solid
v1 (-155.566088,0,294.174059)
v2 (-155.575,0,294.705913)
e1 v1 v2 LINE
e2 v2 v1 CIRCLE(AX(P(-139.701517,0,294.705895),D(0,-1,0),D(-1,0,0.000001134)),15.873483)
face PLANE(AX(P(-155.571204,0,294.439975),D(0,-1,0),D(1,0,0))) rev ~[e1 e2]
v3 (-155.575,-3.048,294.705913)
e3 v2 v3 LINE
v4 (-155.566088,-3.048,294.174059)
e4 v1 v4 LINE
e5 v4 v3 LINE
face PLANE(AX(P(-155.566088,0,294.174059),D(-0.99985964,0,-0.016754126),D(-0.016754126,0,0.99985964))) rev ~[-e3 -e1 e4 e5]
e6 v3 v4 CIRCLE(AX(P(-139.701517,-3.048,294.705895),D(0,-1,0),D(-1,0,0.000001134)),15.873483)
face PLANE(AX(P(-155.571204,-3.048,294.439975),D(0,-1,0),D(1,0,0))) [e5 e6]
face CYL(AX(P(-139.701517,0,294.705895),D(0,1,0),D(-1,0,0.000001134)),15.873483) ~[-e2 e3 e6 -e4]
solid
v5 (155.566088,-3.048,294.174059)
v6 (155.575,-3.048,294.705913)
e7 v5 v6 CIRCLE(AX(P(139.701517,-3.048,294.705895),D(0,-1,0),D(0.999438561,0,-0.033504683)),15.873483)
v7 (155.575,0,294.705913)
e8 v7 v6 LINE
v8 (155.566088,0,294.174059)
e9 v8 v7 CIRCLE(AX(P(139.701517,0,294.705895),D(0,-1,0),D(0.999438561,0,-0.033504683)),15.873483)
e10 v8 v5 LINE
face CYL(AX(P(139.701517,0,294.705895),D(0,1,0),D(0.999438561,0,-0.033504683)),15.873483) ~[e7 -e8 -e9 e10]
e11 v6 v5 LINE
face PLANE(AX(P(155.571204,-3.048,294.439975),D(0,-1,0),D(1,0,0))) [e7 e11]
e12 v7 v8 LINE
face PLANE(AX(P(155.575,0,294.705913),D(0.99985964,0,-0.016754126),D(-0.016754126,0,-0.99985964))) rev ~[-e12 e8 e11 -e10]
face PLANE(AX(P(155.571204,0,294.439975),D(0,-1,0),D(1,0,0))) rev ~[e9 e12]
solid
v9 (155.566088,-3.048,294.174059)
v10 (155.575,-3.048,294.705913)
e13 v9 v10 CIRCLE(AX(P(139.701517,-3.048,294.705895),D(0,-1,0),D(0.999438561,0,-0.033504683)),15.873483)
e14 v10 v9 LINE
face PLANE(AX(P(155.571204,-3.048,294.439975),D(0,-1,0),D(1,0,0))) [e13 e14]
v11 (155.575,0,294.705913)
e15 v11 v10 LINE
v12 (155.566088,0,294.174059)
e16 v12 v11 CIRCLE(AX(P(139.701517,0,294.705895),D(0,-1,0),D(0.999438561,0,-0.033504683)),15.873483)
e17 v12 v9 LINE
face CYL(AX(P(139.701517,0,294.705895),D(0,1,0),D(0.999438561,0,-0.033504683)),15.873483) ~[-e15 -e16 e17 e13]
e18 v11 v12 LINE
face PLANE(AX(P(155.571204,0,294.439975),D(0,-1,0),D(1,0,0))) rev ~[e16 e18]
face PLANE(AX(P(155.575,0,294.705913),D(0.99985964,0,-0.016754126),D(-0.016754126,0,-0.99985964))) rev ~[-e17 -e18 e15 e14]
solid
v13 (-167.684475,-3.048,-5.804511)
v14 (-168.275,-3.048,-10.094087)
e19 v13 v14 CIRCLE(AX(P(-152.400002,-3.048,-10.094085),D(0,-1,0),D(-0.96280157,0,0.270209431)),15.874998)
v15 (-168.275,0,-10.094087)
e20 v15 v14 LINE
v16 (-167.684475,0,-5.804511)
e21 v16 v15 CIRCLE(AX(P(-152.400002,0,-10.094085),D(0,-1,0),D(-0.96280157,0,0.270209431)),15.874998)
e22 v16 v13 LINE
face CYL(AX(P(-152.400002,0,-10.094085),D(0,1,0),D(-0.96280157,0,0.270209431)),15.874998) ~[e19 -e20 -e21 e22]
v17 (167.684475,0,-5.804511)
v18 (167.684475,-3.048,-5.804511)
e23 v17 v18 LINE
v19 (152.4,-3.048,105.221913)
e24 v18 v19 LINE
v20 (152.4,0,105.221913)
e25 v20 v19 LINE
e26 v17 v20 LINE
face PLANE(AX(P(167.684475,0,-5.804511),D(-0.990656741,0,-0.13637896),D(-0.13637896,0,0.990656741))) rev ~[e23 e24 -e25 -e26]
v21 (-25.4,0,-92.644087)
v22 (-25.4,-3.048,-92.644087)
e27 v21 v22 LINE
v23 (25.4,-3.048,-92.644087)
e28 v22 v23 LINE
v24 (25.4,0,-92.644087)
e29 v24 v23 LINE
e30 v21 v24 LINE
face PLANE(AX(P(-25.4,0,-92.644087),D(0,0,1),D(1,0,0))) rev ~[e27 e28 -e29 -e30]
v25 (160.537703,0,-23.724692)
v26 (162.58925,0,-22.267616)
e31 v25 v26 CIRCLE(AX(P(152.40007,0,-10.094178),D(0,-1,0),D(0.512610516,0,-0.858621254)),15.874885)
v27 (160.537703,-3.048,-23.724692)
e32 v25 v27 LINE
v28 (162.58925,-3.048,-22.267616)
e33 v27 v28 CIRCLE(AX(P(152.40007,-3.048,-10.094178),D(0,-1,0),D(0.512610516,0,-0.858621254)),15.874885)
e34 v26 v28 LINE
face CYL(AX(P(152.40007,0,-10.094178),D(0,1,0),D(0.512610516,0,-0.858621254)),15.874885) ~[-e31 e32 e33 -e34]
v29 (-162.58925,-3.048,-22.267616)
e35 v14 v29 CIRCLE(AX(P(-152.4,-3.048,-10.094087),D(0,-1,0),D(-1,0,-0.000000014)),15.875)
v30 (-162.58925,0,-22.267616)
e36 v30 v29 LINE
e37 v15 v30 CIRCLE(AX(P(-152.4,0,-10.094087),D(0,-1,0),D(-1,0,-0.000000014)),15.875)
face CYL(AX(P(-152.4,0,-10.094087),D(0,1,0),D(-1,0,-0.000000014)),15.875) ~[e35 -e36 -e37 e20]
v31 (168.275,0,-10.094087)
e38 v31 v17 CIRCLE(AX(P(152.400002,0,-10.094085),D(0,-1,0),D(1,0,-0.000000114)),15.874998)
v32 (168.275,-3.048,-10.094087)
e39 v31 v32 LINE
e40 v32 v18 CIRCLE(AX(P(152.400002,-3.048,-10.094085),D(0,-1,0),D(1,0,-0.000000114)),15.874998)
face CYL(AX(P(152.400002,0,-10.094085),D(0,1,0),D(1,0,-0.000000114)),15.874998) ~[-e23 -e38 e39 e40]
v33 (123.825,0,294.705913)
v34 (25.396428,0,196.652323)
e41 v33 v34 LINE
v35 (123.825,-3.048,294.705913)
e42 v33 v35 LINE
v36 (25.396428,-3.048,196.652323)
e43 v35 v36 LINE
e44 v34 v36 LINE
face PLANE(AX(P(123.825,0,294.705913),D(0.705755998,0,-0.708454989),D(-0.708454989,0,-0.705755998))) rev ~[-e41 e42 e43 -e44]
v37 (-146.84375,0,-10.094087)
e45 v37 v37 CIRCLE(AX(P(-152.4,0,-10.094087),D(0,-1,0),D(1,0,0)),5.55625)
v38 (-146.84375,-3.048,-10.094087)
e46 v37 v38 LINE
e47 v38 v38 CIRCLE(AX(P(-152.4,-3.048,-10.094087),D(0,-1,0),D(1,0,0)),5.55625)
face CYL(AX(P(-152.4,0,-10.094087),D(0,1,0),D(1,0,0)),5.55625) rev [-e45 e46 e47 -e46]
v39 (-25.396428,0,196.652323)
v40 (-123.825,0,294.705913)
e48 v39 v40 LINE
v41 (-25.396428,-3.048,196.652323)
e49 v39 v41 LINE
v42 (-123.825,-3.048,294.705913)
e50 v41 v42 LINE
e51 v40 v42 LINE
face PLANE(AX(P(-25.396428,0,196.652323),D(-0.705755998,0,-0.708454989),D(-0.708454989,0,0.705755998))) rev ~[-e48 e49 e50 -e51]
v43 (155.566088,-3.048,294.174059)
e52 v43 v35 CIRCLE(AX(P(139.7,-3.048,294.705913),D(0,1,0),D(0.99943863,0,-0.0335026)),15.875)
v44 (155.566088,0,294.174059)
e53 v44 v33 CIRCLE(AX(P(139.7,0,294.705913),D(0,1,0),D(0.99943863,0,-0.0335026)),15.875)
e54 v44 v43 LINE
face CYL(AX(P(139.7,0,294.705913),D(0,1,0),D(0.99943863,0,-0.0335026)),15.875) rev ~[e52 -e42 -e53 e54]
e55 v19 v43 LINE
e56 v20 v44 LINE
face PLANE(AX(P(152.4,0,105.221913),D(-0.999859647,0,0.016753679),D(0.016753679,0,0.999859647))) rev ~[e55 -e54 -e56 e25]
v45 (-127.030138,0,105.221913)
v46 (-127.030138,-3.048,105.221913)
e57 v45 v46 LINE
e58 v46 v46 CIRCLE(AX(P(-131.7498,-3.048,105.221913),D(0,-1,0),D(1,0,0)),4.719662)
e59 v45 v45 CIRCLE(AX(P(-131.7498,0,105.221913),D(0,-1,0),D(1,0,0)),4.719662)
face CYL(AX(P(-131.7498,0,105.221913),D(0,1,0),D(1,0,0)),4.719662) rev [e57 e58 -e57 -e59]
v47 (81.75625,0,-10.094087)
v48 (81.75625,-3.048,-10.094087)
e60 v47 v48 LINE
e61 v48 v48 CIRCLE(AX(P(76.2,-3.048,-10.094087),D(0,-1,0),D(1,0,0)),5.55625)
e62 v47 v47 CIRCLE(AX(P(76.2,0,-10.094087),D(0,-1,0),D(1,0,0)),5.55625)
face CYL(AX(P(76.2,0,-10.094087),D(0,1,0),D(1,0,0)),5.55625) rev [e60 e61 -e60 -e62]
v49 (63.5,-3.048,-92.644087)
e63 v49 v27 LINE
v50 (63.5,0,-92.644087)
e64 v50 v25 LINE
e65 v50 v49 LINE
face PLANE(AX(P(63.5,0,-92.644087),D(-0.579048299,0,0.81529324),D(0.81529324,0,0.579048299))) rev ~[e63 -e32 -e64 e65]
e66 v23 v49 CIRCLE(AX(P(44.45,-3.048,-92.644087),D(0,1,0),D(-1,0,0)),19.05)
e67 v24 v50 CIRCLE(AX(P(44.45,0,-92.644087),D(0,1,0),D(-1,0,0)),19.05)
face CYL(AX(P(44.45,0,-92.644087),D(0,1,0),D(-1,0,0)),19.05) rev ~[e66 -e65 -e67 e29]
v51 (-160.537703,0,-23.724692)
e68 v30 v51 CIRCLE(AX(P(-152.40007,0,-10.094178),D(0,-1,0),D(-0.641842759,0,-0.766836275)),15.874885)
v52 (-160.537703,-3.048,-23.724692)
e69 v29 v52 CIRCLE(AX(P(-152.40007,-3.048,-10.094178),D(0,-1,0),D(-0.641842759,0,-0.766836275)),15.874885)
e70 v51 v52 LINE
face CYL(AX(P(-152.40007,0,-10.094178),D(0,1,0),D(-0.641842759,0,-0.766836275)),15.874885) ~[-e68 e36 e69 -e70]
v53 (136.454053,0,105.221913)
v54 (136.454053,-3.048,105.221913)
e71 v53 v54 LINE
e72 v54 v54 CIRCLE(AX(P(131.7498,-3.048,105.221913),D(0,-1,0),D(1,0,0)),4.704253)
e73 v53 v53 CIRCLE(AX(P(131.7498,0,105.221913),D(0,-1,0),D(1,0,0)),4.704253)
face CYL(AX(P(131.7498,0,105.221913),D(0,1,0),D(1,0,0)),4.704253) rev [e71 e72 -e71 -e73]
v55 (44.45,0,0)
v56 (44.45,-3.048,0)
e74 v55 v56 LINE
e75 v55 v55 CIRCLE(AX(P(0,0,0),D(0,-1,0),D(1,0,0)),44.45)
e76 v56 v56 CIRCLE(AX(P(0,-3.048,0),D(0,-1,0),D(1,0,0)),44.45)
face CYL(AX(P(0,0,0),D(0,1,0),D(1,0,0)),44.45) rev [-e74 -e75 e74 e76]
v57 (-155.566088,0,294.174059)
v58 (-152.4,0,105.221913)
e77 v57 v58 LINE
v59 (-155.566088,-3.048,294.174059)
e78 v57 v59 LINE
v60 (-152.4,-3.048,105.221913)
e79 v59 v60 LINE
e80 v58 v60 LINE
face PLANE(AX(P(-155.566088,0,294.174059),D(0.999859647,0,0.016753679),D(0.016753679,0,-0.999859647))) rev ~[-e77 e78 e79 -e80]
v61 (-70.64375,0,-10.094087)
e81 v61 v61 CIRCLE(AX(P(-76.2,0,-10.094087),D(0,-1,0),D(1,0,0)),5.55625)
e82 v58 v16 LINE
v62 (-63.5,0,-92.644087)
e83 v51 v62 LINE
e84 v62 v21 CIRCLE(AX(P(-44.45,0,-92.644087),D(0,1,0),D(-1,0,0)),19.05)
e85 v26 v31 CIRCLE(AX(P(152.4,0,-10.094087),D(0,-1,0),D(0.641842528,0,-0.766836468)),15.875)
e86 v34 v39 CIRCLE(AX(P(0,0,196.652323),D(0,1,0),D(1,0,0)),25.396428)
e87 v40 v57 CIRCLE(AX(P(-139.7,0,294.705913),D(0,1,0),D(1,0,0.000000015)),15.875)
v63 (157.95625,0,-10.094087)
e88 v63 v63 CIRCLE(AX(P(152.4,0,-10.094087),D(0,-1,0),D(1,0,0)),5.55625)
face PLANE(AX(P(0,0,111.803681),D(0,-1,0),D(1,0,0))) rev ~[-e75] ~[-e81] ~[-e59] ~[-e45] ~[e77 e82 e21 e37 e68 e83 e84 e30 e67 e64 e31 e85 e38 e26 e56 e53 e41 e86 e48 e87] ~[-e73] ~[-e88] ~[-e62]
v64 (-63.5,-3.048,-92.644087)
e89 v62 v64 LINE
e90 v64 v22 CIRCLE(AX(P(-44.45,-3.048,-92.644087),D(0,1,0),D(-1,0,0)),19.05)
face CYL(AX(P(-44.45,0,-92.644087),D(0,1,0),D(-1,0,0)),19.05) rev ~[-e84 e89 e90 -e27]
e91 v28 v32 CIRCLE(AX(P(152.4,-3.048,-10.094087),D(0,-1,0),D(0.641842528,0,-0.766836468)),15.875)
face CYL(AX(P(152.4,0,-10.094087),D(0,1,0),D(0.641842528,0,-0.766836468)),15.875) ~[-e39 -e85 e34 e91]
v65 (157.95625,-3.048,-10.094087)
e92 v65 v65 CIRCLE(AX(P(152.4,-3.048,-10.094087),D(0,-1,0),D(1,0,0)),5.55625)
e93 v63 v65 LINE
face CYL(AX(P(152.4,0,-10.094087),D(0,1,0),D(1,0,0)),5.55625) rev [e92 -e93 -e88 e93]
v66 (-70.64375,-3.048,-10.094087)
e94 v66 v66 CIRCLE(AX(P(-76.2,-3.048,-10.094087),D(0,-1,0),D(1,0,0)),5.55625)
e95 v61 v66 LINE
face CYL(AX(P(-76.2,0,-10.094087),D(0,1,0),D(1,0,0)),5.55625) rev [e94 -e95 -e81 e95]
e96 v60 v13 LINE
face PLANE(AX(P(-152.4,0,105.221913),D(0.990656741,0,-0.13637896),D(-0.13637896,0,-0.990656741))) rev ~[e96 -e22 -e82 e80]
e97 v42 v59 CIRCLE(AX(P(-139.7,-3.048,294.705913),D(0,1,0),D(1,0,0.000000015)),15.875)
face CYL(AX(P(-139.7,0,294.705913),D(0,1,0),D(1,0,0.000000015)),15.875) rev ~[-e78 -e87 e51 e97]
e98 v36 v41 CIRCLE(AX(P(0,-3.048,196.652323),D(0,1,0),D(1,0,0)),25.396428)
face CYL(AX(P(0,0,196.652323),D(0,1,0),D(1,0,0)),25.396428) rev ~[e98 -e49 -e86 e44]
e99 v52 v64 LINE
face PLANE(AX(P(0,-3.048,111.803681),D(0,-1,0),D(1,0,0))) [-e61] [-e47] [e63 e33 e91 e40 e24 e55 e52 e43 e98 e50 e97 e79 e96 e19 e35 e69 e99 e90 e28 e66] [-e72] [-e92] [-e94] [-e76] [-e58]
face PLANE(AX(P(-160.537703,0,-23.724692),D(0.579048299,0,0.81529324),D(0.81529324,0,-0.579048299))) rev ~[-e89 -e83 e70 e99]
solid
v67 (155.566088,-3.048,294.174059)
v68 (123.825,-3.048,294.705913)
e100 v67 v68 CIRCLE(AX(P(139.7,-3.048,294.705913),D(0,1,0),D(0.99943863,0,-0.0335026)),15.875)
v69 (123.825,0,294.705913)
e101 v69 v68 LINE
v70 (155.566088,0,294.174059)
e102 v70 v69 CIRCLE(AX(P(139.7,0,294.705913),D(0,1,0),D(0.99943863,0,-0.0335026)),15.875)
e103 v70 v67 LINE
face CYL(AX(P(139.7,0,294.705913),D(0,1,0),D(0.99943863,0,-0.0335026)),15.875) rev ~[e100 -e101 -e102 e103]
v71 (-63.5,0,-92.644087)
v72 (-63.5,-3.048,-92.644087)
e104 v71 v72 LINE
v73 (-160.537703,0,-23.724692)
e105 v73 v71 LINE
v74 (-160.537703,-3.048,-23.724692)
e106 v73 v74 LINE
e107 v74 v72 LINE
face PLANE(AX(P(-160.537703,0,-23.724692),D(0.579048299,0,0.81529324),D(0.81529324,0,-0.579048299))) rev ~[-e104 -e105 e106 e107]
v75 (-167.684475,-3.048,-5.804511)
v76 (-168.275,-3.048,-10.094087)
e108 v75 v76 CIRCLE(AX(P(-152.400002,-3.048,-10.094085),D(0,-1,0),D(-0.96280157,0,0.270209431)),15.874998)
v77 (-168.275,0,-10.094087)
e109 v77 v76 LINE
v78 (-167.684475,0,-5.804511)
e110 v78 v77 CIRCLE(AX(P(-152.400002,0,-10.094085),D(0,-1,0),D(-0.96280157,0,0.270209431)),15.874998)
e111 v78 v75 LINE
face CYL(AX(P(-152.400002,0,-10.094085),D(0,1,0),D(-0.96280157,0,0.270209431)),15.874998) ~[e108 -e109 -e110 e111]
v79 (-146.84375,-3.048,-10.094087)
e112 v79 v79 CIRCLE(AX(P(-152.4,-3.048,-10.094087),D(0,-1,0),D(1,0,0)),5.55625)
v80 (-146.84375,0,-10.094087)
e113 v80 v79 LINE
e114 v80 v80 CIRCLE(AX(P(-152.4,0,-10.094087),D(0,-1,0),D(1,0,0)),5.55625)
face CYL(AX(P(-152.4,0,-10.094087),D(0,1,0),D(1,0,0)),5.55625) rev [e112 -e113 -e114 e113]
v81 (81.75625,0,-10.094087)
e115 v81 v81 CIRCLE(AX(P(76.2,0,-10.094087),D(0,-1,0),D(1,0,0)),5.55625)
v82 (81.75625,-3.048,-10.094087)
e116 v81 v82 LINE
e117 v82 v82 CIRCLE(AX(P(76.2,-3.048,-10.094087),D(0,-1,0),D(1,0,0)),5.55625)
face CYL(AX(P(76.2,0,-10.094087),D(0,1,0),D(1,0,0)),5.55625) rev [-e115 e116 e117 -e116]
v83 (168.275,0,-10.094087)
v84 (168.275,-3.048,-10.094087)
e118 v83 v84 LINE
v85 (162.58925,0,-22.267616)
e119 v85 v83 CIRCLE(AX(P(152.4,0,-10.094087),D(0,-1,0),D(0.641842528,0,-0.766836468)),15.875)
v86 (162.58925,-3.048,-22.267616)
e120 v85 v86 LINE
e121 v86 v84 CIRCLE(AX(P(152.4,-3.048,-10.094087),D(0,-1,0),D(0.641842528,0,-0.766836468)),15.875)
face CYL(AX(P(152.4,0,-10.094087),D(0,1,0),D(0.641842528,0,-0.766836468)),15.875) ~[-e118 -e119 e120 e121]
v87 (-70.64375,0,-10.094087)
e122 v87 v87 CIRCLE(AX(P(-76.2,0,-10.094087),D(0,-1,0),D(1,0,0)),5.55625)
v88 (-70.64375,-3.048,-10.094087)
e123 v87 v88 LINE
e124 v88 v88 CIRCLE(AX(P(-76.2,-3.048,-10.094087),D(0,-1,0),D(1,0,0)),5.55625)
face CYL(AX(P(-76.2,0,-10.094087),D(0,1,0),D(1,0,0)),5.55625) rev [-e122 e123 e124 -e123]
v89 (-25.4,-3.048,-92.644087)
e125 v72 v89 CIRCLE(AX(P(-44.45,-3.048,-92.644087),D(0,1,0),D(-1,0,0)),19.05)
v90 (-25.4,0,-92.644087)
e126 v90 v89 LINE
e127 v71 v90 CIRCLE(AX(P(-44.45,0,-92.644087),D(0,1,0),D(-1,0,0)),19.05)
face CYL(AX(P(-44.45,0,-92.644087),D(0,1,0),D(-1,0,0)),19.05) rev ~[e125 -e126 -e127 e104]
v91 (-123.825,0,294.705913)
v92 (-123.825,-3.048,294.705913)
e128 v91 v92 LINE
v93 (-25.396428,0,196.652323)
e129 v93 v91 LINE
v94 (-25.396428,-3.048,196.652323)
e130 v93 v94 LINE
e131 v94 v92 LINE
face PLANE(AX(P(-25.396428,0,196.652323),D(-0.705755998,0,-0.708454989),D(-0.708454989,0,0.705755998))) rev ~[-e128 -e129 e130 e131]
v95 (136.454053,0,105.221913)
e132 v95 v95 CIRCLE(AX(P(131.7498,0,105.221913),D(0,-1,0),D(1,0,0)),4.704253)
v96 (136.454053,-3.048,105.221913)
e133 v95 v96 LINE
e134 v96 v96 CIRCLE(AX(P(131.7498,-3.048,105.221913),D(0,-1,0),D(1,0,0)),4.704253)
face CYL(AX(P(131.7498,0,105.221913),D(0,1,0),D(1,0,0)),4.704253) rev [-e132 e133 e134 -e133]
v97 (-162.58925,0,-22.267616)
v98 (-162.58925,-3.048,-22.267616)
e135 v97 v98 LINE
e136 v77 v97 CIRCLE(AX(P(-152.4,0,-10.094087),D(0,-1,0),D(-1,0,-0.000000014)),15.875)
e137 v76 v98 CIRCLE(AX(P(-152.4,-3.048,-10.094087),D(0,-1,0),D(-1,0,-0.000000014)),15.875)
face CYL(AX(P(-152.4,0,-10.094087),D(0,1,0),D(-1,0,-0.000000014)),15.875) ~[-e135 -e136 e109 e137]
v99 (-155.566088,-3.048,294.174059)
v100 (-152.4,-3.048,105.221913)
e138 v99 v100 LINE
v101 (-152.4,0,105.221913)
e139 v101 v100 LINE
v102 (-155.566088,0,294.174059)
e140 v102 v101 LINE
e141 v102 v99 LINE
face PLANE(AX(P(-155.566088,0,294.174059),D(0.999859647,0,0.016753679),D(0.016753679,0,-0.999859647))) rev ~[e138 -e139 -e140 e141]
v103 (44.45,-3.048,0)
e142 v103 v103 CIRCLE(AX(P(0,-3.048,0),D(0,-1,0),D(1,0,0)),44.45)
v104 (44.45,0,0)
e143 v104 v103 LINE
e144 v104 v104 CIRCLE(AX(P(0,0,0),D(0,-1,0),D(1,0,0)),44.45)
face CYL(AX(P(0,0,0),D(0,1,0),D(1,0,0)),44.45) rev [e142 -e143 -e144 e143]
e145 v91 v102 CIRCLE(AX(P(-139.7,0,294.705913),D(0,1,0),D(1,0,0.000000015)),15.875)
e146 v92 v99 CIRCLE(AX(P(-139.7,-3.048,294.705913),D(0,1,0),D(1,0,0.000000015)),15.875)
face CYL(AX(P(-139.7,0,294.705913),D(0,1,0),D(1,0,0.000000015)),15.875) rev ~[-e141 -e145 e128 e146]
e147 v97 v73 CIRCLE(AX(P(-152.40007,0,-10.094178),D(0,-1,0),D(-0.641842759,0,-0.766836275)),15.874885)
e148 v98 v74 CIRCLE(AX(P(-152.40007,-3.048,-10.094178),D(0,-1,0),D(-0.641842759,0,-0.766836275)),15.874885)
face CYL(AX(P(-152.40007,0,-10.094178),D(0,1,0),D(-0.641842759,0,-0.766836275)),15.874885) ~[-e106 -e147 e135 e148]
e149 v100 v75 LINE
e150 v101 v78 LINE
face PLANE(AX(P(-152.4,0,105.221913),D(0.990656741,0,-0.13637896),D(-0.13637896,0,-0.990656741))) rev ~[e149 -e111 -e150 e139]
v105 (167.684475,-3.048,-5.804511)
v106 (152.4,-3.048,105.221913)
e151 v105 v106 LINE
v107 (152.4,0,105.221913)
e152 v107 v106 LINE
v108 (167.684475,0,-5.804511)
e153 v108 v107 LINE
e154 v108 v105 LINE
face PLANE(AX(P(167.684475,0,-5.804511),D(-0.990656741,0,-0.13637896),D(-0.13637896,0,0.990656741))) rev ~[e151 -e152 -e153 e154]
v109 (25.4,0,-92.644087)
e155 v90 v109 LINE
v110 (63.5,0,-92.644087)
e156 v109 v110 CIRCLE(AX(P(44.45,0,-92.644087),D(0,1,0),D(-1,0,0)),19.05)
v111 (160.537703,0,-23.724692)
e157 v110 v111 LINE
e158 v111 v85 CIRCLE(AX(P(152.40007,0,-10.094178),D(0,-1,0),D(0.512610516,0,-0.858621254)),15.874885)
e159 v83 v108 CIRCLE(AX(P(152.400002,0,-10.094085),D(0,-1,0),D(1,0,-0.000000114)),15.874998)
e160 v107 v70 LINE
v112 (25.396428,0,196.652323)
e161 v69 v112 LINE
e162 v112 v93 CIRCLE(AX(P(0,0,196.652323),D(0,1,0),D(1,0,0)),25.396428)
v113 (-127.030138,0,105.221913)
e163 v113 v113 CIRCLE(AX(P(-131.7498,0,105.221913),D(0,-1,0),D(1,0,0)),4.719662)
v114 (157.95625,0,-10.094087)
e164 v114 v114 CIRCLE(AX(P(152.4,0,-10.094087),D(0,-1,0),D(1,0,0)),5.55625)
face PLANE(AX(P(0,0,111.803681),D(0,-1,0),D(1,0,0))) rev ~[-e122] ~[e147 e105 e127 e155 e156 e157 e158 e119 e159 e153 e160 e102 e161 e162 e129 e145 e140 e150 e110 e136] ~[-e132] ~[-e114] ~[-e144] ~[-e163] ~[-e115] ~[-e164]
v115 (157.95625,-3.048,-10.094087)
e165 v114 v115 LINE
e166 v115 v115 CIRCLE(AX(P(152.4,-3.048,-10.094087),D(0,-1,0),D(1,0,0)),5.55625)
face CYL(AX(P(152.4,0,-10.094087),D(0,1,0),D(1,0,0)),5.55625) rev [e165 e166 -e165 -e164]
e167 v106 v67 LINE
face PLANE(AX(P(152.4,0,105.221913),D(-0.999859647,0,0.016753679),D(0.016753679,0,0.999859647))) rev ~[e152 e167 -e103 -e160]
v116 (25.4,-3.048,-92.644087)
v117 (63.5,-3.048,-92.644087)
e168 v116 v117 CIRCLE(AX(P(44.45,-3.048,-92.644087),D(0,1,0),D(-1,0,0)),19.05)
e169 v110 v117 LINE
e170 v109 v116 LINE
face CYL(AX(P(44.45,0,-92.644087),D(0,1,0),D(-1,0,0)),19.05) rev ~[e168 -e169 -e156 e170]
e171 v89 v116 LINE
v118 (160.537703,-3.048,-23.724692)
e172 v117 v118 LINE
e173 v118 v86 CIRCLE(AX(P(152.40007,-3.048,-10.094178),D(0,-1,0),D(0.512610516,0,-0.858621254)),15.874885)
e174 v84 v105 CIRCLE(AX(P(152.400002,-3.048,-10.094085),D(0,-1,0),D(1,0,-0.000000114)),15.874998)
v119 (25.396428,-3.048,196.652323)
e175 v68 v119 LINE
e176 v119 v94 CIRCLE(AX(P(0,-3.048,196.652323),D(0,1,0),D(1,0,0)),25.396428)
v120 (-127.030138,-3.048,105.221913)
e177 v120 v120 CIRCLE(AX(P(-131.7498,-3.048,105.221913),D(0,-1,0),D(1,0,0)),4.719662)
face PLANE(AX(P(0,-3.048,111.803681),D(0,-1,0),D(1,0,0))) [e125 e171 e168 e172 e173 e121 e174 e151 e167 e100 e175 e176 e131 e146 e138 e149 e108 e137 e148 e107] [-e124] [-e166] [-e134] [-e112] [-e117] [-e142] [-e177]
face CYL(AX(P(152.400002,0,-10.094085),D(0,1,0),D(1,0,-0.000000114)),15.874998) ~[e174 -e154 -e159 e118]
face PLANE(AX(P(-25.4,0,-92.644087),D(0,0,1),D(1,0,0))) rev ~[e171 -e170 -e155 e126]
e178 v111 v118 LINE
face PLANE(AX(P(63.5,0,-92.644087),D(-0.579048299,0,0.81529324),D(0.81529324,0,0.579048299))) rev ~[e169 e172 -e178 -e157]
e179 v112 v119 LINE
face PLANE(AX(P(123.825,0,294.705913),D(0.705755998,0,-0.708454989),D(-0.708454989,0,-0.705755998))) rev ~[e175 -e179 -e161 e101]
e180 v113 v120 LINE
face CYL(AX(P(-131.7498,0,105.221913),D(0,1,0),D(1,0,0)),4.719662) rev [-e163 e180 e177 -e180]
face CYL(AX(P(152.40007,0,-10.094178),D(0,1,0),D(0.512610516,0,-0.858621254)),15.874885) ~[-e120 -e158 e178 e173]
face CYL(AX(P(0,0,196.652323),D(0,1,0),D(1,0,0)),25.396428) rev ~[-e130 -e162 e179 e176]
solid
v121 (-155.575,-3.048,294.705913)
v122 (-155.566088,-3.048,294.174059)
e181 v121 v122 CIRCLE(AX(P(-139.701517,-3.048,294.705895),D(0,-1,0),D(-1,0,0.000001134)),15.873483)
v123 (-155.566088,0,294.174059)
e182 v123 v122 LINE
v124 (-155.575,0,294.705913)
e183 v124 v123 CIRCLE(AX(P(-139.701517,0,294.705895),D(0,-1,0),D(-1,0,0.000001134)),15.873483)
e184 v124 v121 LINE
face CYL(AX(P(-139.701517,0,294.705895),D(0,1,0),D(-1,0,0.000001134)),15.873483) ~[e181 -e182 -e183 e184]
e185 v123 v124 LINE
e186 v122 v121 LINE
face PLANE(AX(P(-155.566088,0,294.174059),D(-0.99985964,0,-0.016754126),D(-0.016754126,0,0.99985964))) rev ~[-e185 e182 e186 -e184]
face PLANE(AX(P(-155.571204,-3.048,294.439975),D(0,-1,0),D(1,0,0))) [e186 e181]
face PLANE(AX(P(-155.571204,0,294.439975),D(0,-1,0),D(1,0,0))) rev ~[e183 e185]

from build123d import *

# Parameters (mm, degrees)
F0_R     = 5.55625
F0_R_2   = 44.45
F0_R_3   = 4.719662
F0_R_4   = 4.704253
F1_DEPTH = 3.048
F2_DEPTH = 3.048


with BuildPart() as f1:
    # F0 (on Front) → F1 (new body)
    with BuildSketch(Plane.XZ):
        with BuildLine():
            ThreePointArc((-155.575, 294.705913), (-155.572772, 294.439949), (-155.566088, 294.174059))
            Line((-155.566088, 294.174059), (-155.575, 294.705913))
        make_face()
        with BuildLine():
            Line((155.575, 294.705913), (155.566088, 294.174059))
            ThreePointArc((155.566088, 294.174059), (155.572772, 294.439949), (155.575, 294.705913))
        make_face()
        with BuildLine():
            ThreePointArc((-63.5, -92.644087), (-44.45, -73.594087), (-25.4, -92.644087))
            Line((-25.4, -92.644087), (25.4, -92.644087))
            ThreePointArc((25.4, -92.644087), (44.45, -73.594087), (63.5, -92.644087))
            Line((63.5, -92.644087), (160.537703, -23.724692))
            Line((160.537703, -23.724692), (162.58925, -22.267616))
            ThreePointArc((162.58925, -22.267616), (166.783497, -16.812021), (168.275, -10.094087))
            Line((168.275, -10.094087), (167.684475, -5.804511))
            Line((167.684475, -5.804511), (152.4, 105.221913))
            Line((152.4, 105.221913), (155.566088, 294.174059))
            ThreePointArc((155.566088, 294.174059), (139.434035, 278.833141), (123.825, 294.705913))
            Line((123.825, 294.705913), (25.396428, 196.652323))
            ThreePointArc((25.396428, 196.652323), (0, 171.255895), (-25.396428, 196.652323))
            Line((-25.396428, 196.652323), (-123.825, 294.705913))
            ThreePointArc((-123.825, 294.705913), (-139.434035, 278.833141), (-155.566088, 294.174059))
            Line((-155.566088, 294.174059), (-152.4, 105.221913))
            Line((-152.4, 105.221913), (-167.684475, -5.804511))
            Line((-167.684475, -5.804511), (-168.275, -10.094087))
            ThreePointArc((-168.275, -10.094087), (-166.783497, -16.812021), (-162.58925, -22.267616))
            Line((-162.58925, -22.267616), (-160.537703, -23.724692))
            Line((-160.537703, -23.724692), (-63.5, -92.644087))
        make_face()
        with Locations((-152.4, -10.094087)):
            Circle(F0_R, mode=Mode.SUBTRACT)
        with Locations((-76.2, -10.094087)):
            Circle(F0_R, mode=Mode.SUBTRACT)
        Circle(F0_R_2, mode=Mode.SUBTRACT)
        with Locations((76.2, -10.094087)):
            Circle(F0_R, mode=Mode.SUBTRACT)
        with Locations((152.4, -10.094087)):
            Circle(F0_R, mode=Mode.SUBTRACT)
        with Locations((-131.7498, 105.221913)):
            Circle(F0_R_3, mode=Mode.SUBTRACT)
        with Locations((131.7498, 105.221913)):
            Circle(F0_R_4, mode=Mode.SUBTRACT)
        with BuildLine():
            ThreePointArc((-162.58925, -22.267616), (-161.592392, -23.036867), (-160.537703, -23.724692))
            Line((-160.537703, -23.724692), (-162.58925, -22.267616))
        make_face()
        with BuildLine():
            Line((162.58925, -22.267616), (160.537703, -23.724692))
            ThreePointArc((160.537703, -23.724692), (161.592392, -23.036867), (162.58925, -22.267616))
        make_face()
        with BuildLine():
            ThreePointArc((-167.684475, -5.804511), (-168.126676, -7.929071), (-168.275, -10.094087))
            Line((-168.275, -10.094087), (-167.684475, -5.804511))
        make_face()
        with BuildLine():
            Line((167.684475, -5.804511), (168.275, -10.094087))
            ThreePointArc((168.275, -10.094087), (168.126676, -7.929071), (167.684475, -5.804511))
        make_face()
    extrude(amount=F1_DEPTH)


with BuildPart() as f2:
    # F0 (on Front) → F2 (new body)
    with BuildSketch(Plane.XZ):
        with BuildLine():
            ThreePointArc((-155.575, 294.705913), (-155.572772, 294.439949), (-155.566088, 294.174059))
            Line((-155.566088, 294.174059), (-155.575, 294.705913))
        make_face()
        with BuildLine():
            Line((155.575, 294.705913), (155.566088, 294.174059))
            ThreePointArc((155.566088, 294.174059), (155.572772, 294.439949), (155.575, 294.705913))
        make_face()
        with BuildLine():
            ThreePointArc((-63.5, -92.644087), (-44.45, -73.594087), (-25.4, -92.644087))
            Line((-25.4, -92.644087), (25.4, -92.644087))
            ThreePointArc((25.4, -92.644087), (44.45, -73.594087), (63.5, -92.644087))
            Line((63.5, -92.644087), (160.537703, -23.724692))
            Line((160.537703, -23.724692), (162.58925, -22.267616))
            ThreePointArc((162.58925, -22.267616), (166.783497, -16.812021), (168.275, -10.094087))
            Line((168.275, -10.094087), (167.684475, -5.804511))
            Line((167.684475, -5.804511), (152.4, 105.221913))
            Line((152.4, 105.221913), (155.566088, 294.174059))
            ThreePointArc((155.566088, 294.174059), (139.434035, 278.833141), (123.825, 294.705913))
            Line((123.825, 294.705913), (25.396428, 196.652323))
            ThreePointArc((25.396428, 196.652323), (0, 171.255895), (-25.396428, 196.652323))
            Line((-25.396428, 196.652323), (-123.825, 294.705913))
            ThreePointArc((-123.825, 294.705913), (-139.434035, 278.833141), (-155.566088, 294.174059))
            Line((-155.566088, 294.174059), (-152.4, 105.221913))
            Line((-152.4, 105.221913), (-167.684475, -5.804511))
            Line((-167.684475, -5.804511), (-168.275, -10.094087))
            ThreePointArc((-168.275, -10.094087), (-166.783497, -16.812021), (-162.58925, -22.267616))
            Line((-162.58925, -22.267616), (-160.537703, -23.724692))
            Line((-160.537703, -23.724692), (-63.5, -92.644087))
        make_face()
        with Locations((-152.4, -10.094087)):
            Circle(F0_R, mode=Mode.SUBTRACT)
        with Locations((-76.2, -10.094087)):
            Circle(F0_R, mode=Mode.SUBTRACT)
        Circle(F0_R_2, mode=Mode.SUBTRACT)
        with Locations((76.2, -10.094087)):
            Circle(F0_R, mode=Mode.SUBTRACT)
        with Locations((152.4, -10.094087)):
            Circle(F0_R, mode=Mode.SUBTRACT)
        with Locations((-131.7498, 105.221913)):
            Circle(F0_R_3, mode=Mode.SUBTRACT)
        with Locations((131.7498, 105.221913)):
            Circle(F0_R_4, mode=Mode.SUBTRACT)
        with BuildLine():
            ThreePointArc((-162.58925, -22.267616), (-161.592392, -23.036867), (-160.537703, -23.724692))
            Line((-160.537703, -23.724692), (-162.58925, -22.267616))
        make_face()
        with BuildLine():
            Line((162.58925, -22.267616), (160.537703, -23.724692))
            ThreePointArc((160.537703, -23.724692), (161.592392, -23.036867), (162.58925, -22.267616))
        make_face()
        with BuildLine():
            ThreePointArc((-167.684475, -5.804511), (-168.126676, -7.929071), (-168.275, -10.094087))
            Line((-168.275, -10.094087), (-167.684475, -5.804511))
        make_face()
        with BuildLine():
            Line((167.684475, -5.804511), (168.275, -10.094087))
            ThreePointArc((168.275, -10.094087), (168.126676, -7.929071), (167.684475, -5.804511))
        make_face()
    extrude(amount=F2_DEPTH)


solid = Compound([f1.part, f2.part])
